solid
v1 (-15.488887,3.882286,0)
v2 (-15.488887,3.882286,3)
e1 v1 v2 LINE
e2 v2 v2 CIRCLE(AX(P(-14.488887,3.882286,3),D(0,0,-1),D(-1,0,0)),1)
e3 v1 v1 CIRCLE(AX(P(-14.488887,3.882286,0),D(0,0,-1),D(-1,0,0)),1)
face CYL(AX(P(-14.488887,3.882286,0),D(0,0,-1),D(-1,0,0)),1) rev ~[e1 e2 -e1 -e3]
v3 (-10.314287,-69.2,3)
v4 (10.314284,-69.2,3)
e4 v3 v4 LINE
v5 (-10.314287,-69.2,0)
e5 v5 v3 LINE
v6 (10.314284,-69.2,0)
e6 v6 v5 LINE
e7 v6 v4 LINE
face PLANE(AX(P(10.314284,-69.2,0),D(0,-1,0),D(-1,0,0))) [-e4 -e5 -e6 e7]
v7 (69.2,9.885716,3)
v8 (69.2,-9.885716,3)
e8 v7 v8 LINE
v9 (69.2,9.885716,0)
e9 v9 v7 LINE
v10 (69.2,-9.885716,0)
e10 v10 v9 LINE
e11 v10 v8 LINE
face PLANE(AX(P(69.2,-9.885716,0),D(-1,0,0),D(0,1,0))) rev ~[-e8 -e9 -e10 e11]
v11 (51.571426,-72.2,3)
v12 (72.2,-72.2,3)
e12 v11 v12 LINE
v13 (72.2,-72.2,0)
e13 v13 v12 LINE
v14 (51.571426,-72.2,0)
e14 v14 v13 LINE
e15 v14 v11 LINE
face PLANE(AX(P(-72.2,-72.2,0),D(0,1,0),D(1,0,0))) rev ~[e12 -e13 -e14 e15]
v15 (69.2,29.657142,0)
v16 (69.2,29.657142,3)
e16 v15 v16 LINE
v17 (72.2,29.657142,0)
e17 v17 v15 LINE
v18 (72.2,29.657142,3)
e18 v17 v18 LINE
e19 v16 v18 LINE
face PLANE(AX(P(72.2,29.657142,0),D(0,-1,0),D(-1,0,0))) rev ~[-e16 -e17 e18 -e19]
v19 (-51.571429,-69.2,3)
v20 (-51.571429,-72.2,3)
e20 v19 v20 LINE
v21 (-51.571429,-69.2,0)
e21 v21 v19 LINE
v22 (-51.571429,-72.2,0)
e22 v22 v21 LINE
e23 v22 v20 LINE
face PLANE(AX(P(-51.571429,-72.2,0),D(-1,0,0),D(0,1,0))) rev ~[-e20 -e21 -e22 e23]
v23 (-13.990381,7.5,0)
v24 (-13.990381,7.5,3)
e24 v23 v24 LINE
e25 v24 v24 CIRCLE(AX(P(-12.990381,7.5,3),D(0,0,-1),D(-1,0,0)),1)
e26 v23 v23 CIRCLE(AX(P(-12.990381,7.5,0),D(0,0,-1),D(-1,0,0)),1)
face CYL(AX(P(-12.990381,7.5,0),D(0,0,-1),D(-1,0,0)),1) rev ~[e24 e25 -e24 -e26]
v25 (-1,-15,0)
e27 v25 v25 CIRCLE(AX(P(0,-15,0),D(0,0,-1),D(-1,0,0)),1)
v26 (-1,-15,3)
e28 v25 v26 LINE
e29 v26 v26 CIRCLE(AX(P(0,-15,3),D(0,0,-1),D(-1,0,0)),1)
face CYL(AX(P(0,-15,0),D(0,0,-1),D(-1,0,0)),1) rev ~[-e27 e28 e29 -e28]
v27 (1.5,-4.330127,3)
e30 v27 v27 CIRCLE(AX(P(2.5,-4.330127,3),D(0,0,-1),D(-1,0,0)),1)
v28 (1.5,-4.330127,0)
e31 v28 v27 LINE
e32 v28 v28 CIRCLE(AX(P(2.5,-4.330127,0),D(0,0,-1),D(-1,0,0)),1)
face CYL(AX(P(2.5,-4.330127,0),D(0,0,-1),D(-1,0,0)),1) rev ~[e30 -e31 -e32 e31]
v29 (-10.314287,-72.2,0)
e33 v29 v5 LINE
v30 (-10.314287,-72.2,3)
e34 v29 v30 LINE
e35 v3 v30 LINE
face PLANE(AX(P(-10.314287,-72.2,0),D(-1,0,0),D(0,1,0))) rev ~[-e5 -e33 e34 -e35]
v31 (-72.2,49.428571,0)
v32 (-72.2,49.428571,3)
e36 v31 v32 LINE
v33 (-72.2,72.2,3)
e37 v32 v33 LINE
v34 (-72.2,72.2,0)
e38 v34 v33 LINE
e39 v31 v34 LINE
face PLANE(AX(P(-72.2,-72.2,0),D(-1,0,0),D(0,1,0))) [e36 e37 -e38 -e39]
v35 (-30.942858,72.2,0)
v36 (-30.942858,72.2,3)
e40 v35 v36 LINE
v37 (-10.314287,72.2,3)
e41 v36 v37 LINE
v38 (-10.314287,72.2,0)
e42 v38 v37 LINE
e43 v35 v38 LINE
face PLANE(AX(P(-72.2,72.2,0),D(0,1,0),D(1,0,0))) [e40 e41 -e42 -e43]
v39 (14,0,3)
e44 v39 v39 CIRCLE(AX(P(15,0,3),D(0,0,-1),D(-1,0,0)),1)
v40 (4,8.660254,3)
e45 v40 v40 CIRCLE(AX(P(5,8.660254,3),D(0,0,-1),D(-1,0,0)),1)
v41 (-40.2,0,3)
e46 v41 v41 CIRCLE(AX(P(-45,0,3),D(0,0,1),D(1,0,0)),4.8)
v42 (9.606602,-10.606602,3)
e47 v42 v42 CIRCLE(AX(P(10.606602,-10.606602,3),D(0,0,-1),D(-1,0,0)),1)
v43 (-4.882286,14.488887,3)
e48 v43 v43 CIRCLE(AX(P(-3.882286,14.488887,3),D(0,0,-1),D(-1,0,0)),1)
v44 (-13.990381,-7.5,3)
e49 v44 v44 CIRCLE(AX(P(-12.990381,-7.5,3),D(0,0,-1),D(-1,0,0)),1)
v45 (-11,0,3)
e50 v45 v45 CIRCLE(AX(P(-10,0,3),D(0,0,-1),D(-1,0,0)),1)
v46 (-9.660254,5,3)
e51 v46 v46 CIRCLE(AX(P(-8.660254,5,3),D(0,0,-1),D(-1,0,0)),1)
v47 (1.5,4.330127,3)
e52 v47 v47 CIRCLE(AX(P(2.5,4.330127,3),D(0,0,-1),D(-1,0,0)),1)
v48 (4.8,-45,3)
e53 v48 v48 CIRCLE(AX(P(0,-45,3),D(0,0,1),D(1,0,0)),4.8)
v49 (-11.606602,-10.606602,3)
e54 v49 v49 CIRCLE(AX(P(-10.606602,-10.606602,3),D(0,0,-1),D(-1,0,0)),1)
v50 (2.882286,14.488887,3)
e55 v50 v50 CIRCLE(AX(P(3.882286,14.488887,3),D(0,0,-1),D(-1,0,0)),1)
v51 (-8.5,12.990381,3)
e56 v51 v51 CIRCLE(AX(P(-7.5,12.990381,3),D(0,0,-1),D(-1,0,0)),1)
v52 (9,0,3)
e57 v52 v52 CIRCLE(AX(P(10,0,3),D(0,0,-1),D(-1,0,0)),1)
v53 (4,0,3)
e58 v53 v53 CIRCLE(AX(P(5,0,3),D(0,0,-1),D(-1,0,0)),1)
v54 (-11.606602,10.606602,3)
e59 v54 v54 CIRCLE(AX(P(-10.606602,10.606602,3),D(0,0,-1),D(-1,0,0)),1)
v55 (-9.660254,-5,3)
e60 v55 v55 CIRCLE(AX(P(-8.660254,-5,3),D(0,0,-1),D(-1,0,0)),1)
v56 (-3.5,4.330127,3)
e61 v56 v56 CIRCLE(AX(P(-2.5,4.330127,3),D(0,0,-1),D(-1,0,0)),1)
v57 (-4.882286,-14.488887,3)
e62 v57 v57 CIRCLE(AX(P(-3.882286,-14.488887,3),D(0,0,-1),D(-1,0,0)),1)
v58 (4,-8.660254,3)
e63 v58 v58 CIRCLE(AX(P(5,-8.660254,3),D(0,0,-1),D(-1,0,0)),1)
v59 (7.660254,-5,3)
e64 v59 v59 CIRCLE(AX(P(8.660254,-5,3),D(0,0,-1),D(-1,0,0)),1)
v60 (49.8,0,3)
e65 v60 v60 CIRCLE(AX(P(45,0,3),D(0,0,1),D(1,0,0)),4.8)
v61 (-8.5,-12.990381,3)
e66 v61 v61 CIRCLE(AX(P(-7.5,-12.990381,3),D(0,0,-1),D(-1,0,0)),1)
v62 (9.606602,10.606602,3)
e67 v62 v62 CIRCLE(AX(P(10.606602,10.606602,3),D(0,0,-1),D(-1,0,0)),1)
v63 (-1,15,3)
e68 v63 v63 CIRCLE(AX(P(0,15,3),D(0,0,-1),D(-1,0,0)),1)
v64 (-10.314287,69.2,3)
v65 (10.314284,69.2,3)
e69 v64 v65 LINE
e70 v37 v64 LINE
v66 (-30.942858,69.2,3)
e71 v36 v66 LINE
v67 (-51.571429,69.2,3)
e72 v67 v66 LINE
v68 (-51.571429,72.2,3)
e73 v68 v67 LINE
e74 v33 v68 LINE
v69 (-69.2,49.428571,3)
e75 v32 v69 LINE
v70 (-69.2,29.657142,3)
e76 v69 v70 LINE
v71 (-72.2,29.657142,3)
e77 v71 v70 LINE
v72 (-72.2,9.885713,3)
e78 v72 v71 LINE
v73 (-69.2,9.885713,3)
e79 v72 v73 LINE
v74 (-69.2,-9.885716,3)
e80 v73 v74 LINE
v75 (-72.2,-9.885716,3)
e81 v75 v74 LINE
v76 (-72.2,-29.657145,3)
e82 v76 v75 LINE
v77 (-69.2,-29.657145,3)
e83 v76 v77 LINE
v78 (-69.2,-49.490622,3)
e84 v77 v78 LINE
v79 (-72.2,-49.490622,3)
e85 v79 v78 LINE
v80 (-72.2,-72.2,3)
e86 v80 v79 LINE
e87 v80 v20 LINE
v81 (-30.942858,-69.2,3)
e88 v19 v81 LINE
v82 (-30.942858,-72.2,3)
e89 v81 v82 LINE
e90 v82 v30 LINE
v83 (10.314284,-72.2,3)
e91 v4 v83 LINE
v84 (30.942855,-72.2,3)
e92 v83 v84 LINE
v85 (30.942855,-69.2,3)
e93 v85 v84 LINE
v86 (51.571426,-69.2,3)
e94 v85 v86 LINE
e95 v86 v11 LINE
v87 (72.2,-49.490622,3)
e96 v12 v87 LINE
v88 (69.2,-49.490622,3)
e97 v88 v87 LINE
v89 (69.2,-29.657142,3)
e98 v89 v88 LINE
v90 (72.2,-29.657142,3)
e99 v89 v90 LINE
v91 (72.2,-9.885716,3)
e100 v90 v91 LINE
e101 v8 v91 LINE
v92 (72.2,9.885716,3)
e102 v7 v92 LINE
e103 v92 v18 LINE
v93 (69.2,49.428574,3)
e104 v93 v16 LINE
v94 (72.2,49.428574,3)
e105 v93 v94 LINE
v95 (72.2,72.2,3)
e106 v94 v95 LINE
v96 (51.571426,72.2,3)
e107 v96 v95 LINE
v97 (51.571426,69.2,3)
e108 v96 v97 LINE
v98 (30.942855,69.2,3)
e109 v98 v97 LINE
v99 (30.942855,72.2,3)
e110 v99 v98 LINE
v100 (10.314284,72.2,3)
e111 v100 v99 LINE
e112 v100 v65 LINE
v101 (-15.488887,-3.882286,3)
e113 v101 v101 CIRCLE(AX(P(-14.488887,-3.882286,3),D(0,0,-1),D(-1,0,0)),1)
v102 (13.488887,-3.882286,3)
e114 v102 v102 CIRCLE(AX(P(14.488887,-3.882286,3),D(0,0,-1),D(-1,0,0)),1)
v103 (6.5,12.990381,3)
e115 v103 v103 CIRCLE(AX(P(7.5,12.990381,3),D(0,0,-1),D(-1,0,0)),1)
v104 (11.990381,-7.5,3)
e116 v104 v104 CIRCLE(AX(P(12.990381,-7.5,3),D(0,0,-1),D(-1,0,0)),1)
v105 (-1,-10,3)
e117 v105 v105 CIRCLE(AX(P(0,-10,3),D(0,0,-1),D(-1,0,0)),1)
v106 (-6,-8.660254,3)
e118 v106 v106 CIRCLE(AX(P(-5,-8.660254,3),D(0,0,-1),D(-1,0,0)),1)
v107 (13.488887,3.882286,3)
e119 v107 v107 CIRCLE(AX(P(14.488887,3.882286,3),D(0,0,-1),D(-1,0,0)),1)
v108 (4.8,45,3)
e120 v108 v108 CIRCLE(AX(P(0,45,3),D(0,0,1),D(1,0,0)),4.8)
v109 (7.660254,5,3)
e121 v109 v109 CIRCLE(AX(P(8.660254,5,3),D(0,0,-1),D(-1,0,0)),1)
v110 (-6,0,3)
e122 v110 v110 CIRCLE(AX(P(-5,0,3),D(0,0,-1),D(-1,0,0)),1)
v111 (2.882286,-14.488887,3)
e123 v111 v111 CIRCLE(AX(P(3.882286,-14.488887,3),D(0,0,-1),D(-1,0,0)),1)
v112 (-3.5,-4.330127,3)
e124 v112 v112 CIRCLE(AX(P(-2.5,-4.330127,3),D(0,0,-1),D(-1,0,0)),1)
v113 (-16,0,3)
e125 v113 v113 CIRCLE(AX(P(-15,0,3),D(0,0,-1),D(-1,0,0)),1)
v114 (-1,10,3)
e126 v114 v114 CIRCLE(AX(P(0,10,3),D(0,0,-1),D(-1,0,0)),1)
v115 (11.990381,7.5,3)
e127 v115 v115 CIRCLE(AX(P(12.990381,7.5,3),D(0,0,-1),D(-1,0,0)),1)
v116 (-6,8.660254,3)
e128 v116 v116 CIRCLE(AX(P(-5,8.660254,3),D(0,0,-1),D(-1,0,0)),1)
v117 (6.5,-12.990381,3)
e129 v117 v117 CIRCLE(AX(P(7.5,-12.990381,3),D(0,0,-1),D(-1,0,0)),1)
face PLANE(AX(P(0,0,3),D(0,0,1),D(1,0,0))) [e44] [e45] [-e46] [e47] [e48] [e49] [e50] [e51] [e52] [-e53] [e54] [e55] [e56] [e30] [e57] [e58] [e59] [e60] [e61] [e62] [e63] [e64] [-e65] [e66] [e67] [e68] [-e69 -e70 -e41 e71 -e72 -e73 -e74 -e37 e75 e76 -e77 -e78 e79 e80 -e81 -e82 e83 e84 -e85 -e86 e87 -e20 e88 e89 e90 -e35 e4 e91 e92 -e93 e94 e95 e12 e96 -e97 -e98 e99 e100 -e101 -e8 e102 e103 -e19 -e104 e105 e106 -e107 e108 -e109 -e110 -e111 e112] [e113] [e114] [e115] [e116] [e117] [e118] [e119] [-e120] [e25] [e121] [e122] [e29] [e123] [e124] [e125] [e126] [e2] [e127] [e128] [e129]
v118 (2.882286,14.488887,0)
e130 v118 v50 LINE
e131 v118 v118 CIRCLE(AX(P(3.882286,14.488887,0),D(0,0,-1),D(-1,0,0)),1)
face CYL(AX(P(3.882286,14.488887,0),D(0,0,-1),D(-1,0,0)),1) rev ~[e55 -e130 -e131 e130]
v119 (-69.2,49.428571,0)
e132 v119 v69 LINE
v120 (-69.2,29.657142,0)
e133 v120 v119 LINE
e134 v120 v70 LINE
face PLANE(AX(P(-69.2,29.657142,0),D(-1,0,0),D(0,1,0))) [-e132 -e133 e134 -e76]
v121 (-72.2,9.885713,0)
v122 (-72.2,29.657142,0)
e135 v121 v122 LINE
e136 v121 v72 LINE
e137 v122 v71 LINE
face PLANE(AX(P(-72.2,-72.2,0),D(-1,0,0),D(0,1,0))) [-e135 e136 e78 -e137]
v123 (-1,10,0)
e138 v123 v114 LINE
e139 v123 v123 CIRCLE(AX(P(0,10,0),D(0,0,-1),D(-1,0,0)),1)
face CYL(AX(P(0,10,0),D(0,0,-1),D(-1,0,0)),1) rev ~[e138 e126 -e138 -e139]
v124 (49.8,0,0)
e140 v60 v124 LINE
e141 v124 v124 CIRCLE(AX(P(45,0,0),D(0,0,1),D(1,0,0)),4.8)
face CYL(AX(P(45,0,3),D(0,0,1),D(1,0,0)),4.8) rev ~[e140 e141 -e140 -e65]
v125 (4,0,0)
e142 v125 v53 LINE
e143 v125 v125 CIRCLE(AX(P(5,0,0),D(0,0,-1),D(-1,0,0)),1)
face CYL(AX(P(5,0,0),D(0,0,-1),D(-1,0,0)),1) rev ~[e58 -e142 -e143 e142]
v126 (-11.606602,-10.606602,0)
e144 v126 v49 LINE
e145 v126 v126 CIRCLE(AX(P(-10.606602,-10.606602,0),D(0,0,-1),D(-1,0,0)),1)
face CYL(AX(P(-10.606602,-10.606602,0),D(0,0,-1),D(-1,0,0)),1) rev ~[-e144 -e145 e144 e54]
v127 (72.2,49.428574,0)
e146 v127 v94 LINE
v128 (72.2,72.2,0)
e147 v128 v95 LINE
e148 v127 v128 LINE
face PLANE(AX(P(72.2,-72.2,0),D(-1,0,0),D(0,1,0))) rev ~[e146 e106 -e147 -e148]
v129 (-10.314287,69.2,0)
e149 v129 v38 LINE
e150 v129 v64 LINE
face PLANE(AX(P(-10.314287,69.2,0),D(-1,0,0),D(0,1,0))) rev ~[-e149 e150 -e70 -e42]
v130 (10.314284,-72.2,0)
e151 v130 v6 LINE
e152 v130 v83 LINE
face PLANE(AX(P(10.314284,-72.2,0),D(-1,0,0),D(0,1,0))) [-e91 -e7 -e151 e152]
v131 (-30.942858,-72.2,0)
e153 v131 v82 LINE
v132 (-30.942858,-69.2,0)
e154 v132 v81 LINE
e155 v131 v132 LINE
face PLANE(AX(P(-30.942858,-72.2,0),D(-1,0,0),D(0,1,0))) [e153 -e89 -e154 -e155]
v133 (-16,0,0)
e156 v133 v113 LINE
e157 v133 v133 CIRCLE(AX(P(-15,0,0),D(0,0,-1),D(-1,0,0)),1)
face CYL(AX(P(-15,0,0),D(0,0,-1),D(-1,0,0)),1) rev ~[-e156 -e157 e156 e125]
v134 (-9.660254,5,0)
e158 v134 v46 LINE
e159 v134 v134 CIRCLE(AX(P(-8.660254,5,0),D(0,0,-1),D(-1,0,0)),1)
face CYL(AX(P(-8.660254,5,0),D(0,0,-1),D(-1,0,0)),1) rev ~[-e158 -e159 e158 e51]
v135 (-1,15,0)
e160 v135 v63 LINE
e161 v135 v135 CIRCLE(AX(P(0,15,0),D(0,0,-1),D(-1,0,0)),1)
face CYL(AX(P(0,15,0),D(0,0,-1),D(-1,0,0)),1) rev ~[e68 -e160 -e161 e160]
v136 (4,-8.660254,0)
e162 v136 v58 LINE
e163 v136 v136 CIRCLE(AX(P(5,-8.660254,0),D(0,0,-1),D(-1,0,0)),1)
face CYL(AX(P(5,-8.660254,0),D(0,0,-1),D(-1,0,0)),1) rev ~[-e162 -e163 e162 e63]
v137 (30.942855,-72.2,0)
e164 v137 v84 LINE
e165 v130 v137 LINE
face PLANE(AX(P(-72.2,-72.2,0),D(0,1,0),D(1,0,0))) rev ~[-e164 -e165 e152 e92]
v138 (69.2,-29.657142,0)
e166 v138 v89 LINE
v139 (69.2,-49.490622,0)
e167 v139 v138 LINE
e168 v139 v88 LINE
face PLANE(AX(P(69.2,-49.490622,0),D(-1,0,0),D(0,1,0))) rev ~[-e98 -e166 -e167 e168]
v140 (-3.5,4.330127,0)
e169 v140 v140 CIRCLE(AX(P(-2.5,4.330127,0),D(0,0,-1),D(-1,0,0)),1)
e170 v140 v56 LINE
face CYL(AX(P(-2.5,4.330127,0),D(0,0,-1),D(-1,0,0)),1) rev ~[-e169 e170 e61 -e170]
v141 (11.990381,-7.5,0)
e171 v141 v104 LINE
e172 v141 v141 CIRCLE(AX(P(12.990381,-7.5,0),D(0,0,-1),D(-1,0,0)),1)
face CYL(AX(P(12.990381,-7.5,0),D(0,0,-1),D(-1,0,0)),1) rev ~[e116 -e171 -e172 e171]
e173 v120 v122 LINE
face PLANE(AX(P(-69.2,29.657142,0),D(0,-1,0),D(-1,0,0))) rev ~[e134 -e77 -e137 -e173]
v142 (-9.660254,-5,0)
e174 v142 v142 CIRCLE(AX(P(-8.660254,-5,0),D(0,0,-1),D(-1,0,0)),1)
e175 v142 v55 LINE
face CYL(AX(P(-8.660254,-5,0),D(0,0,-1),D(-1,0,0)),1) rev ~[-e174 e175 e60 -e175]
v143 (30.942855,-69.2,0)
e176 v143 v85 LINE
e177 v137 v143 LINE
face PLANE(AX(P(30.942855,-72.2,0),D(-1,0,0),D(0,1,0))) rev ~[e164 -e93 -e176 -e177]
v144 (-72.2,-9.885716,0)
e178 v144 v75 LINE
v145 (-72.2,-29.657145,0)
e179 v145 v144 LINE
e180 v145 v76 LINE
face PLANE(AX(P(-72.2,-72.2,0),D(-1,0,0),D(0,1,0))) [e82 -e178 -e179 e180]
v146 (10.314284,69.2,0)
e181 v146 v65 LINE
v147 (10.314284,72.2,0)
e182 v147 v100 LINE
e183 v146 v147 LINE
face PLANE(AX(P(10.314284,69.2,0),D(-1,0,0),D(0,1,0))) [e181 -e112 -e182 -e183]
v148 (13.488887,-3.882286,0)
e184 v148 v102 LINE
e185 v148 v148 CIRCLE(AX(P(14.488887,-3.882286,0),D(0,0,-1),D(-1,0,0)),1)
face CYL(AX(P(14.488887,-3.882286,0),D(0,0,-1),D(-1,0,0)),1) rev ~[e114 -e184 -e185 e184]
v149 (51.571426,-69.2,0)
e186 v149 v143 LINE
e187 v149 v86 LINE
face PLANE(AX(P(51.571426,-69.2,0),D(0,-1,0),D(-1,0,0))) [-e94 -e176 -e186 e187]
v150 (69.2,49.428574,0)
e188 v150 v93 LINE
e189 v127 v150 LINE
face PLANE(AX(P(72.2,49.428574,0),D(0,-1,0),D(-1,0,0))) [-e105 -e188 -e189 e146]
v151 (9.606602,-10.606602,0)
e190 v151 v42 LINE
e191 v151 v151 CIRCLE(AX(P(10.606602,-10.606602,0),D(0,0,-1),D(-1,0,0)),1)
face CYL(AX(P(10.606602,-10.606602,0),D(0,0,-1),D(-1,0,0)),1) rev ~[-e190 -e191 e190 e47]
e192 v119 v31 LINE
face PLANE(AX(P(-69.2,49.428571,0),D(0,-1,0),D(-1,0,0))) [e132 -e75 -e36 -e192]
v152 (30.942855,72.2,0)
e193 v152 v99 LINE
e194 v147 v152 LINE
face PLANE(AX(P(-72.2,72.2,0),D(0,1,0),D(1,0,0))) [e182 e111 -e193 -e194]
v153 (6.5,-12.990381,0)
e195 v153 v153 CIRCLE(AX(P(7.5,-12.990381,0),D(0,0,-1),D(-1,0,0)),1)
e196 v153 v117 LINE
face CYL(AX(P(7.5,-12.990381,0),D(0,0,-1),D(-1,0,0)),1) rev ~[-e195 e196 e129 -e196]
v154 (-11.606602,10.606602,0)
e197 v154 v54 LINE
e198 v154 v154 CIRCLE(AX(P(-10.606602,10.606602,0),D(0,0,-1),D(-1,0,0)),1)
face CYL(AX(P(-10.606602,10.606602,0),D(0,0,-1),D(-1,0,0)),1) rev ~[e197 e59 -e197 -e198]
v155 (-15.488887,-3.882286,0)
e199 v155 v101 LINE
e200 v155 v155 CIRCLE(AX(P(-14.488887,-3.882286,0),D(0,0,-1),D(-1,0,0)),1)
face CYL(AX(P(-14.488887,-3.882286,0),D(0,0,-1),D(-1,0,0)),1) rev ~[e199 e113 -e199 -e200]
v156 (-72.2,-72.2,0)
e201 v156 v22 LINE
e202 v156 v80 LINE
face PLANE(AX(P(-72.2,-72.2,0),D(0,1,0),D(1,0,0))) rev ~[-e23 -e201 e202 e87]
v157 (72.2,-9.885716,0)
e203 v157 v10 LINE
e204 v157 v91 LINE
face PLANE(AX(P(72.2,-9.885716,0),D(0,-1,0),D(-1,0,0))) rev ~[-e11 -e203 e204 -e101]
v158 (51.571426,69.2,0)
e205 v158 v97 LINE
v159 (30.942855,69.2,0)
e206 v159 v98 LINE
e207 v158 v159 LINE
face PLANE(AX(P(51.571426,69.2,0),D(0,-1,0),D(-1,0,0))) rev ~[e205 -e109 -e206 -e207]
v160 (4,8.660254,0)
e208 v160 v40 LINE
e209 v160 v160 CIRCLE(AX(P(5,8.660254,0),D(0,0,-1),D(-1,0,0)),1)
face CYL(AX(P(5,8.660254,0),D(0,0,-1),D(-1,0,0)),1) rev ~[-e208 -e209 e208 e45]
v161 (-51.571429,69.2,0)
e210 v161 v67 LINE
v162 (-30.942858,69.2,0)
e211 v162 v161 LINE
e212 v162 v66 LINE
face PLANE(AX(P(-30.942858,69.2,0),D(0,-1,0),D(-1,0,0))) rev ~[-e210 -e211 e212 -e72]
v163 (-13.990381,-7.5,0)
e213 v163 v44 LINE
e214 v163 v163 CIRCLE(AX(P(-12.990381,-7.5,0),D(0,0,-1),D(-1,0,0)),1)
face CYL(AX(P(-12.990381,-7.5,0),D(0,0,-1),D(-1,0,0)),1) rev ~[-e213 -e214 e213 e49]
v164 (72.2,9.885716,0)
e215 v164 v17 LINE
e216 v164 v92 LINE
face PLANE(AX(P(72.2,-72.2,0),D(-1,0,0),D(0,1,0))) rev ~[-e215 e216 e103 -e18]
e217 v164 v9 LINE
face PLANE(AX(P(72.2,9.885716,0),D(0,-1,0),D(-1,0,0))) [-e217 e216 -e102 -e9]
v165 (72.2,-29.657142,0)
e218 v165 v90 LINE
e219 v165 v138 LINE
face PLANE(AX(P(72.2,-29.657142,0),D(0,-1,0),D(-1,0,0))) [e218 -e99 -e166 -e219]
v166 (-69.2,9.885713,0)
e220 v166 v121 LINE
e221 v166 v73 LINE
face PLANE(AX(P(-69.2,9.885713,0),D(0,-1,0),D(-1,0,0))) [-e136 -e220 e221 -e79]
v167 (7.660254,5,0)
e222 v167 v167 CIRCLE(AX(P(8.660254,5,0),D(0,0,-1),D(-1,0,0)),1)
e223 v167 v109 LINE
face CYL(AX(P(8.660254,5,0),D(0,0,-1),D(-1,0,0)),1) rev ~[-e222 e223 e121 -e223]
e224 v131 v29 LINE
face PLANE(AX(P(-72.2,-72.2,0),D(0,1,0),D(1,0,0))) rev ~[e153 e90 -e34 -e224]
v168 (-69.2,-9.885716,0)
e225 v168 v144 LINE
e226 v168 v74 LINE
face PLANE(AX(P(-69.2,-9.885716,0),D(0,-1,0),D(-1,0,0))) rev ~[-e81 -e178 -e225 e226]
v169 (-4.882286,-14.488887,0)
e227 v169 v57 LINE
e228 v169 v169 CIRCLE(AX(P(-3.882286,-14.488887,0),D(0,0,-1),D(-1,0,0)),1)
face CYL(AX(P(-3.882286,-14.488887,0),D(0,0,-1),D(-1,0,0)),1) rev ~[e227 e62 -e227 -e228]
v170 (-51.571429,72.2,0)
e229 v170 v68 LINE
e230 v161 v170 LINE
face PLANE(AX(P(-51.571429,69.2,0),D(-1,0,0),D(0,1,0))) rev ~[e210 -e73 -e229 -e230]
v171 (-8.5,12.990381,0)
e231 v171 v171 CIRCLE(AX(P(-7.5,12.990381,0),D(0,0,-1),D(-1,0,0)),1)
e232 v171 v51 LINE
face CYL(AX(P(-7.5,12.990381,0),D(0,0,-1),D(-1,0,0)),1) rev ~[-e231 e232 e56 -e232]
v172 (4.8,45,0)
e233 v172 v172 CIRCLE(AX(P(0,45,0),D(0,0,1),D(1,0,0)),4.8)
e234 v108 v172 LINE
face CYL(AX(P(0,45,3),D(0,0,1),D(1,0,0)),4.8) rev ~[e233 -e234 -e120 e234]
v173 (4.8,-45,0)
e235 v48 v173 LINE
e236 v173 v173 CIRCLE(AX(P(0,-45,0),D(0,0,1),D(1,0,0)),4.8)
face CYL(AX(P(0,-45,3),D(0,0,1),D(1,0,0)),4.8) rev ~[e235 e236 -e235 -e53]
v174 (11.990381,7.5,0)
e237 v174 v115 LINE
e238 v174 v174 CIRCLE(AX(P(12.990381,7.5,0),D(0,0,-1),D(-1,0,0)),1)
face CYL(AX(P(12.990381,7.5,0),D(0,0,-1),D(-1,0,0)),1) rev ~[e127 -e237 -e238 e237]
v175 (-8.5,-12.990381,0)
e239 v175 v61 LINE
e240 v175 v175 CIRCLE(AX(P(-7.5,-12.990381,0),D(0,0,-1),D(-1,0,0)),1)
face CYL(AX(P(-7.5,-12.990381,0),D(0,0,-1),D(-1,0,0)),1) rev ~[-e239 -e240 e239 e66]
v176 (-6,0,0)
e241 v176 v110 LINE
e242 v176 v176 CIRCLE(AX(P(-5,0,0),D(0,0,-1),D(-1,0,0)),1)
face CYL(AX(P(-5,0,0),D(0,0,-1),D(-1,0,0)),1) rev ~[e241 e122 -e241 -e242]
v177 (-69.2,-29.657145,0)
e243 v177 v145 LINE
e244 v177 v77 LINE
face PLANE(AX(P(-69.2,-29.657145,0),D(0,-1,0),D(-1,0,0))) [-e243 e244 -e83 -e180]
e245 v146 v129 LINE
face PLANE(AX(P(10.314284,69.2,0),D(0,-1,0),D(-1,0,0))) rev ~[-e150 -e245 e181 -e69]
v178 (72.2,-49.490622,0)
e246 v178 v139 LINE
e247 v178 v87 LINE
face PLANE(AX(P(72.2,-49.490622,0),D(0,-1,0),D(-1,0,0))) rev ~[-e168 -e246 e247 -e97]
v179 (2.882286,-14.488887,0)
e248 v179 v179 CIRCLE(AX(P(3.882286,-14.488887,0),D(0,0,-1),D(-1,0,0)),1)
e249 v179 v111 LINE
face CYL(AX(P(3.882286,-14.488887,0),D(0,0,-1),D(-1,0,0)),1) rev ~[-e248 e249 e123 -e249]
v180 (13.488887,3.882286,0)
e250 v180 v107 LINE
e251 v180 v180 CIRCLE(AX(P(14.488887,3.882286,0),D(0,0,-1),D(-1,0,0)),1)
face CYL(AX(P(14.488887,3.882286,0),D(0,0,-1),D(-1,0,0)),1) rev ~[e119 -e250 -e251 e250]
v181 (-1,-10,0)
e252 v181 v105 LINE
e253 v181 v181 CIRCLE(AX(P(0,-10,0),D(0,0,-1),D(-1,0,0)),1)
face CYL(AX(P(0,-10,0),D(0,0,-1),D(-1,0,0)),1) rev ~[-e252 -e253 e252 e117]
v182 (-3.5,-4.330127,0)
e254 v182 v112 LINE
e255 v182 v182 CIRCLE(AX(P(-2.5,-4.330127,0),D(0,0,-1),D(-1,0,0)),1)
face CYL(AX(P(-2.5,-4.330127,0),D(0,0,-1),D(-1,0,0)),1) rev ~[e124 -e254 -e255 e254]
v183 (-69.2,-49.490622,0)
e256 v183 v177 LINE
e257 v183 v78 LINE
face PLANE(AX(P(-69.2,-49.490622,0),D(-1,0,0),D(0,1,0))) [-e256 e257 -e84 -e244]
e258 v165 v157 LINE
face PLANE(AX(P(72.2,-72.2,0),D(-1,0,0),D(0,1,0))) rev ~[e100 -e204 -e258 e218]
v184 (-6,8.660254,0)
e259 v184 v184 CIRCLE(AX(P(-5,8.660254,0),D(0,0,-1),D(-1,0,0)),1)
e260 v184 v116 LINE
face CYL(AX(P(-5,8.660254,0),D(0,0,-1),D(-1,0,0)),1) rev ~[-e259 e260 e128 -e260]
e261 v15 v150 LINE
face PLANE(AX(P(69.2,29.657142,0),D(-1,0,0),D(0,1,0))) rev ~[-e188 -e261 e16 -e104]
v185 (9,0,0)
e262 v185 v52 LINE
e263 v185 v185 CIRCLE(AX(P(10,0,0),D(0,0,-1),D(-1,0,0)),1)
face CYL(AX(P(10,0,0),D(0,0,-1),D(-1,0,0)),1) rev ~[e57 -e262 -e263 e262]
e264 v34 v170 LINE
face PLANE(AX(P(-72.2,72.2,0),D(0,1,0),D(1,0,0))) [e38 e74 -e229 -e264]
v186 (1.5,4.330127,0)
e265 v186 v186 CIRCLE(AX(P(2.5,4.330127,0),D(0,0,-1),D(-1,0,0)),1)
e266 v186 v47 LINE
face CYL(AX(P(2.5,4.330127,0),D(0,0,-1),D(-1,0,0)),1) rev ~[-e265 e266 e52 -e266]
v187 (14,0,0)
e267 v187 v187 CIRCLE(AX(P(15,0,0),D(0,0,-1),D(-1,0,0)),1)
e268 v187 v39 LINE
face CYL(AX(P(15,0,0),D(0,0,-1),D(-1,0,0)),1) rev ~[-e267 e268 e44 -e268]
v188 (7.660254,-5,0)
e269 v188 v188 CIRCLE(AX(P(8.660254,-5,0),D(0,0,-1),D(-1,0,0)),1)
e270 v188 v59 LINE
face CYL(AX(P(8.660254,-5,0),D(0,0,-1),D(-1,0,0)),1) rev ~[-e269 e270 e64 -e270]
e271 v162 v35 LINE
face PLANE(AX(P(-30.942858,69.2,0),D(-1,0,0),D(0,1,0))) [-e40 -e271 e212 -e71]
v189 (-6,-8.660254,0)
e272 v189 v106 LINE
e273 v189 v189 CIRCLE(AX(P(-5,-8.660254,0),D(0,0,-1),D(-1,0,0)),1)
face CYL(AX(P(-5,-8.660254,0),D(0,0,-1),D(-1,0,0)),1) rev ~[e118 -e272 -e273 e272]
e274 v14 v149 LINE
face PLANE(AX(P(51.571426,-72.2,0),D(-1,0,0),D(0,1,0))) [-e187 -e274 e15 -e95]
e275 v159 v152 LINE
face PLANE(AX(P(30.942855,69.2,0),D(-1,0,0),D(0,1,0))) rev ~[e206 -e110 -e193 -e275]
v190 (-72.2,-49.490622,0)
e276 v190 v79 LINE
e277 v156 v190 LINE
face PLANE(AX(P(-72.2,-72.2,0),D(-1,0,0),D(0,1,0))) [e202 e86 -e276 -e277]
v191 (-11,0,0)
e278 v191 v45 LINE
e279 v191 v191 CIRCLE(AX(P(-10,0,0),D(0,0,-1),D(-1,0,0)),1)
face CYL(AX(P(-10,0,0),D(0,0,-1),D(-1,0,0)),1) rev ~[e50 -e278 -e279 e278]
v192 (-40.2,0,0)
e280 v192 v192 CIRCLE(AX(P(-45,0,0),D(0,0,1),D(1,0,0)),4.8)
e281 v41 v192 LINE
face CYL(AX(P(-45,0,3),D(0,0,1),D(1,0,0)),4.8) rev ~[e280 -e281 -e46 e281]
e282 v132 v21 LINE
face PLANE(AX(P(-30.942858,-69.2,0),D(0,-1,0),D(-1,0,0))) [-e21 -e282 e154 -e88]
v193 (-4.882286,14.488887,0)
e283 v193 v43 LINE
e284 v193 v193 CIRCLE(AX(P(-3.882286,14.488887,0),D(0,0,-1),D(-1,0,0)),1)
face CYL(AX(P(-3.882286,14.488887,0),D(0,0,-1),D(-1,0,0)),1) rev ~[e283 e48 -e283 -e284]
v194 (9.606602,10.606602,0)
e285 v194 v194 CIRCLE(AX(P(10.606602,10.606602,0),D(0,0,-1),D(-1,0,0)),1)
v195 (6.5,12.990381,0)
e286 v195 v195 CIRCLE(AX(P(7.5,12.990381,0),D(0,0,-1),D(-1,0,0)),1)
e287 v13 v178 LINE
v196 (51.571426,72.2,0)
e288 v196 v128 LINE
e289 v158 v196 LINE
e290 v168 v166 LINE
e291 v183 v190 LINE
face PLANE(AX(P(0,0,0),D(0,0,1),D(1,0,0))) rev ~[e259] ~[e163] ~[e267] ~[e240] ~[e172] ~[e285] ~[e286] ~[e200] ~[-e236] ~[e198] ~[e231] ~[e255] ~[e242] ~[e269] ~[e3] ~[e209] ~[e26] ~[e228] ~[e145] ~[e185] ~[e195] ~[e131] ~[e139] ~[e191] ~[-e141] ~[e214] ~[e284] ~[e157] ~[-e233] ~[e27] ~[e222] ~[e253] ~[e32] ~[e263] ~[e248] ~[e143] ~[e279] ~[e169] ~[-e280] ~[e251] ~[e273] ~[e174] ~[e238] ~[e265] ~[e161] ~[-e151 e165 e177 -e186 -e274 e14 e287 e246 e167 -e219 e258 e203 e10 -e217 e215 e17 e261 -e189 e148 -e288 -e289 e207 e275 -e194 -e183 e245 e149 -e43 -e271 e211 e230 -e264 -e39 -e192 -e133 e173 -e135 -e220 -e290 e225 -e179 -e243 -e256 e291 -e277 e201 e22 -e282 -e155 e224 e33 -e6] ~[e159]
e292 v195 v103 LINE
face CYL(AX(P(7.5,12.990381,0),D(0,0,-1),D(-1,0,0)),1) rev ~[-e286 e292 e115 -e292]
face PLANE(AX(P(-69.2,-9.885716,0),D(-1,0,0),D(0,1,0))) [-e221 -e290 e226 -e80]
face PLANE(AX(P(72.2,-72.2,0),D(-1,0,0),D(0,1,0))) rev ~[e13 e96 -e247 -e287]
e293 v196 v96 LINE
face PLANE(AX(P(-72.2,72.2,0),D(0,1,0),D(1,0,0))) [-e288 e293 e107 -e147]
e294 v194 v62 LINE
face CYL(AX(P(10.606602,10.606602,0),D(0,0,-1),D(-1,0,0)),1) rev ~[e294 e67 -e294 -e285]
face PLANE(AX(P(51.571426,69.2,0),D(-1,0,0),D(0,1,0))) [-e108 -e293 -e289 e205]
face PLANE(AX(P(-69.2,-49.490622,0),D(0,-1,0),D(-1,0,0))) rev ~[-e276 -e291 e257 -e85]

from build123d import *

# Parameters (mm, degrees)
SKETCH1_W           = 144.4
SKETCH1_H           = 144.4
BOSS_EXTRUDE1_DEPTH = 3
SKETCH2_W           = 20.628571
SKETCH2_H           = 3
SKETCH2_W_2         = 3
SKETCH2_H_2         = 19.771429
SKETCH2_H_3         = 19.83347722
SKETCH2_H_4         = 19.833479362
SKETCH2_H_5         = 19.771431142
CUT_EXTRUDE1_DEPTH  = 4
SKETCH3_R           = 1
CUT_EXTRUDE2_DEPTH  = 4
SKETCH4_R           = 4.8
CUT_EXTRUDE3_DEPTH  = 4


with BuildPart() as part:
    # Sketch1 → Boss-Extrude1 (new body)
    with BuildSketch(Plane.XY):
        Rectangle(SKETCH1_W, SKETCH1_H)
    extrude(amount=BOSS_EXTRUDE1_DEPTH)

    # Sketch2 → Cut-Extrude1 (cut, through all)
    with BuildSketch(Plane(origin=(0, 0, 0), x_dir=(-1, 0, 0), z_dir=(0, 0, -1))):
        with Locations((-41.257140929, 70.7)):
            Rectangle(SKETCH2_W, SKETCH2_H)
        with Locations((1.071e-06, 70.7)):
            Rectangle(SKETCH2_W, SKETCH2_H)
        with Locations((41.257143071, 70.7)):
            Rectangle(SKETCH2_W, SKETCH2_H)
        with Locations((70.7, 39.542856929)):
            Rectangle(SKETCH2_W_2, SKETCH2_H_2)
        with Locations((70.7, -1.071e-06)):
            Rectangle(SKETCH2_W_2, SKETCH2_H_2)
        with Locations((70.7, -39.573883181)):
            Rectangle(SKETCH2_W_2, SKETCH2_H_3)
        with Locations((41.257143071, -70.7)):
            Rectangle(SKETCH2_W, SKETCH2_H)
        with Locations((1.071e-06, -70.7)):
            Rectangle(SKETCH2_W, SKETCH2_H)
        with Locations((-41.257140929, -70.7)):
            Rectangle(SKETCH2_W, SKETCH2_H)
        with Locations((-70.7, -39.57388211)):
            Rectangle(SKETCH2_W_2, SKETCH2_H_4)
        with Locations((-70.7, 0)):
            Rectangle(SKETCH2_W_2, SKETCH2_H_5)
        with Locations((-70.7, 39.542858)):
            Rectangle(SKETCH2_W_2, SKETCH2_H_5)
    extrude(amount=-CUT_EXTRUDE1_DEPTH, mode=Mode.SUBTRACT)

    # Sketch3 → Cut-Extrude2 (cut, through all)
    with BuildSketch(Plane(origin=(0, 0, 0), x_dir=(-1, 0, 0), z_dir=(0, 0, -1))):
        with Locations((5, 0)):
            Circle(SKETCH3_R)
        with Locations((2.5, -4.330127019)):
            Circle(SKETCH3_R)
        with Locations((-2.5, -4.330127019)):
            Circle(SKETCH3_R)
        with Locations((-5, 0)):
            Circle(SKETCH3_R)
        with Locations((-2.5, 4.330127019)):
            Circle(SKETCH3_R)
        with Locations((2.5, 4.330127019)):
            Circle(SKETCH3_R)
        with Locations((10, 0)):
            Circle(SKETCH3_R)
        with Locations((8.660254038, -5)):
            Circle(SKETCH3_R)
        with Locations((5, -8.660254038)):
            Circle(SKETCH3_R)
        with Locations((0, -10)):
            Circle(SKETCH3_R)
        with Locations((-5, -8.660254038)):
            Circle(SKETCH3_R)
        with Locations((-8.660254038, -5)):
            Circle(SKETCH3_R)
        with Locations((-10, 0)):
            Circle(SKETCH3_R)
        with Locations((-8.660254038, 5)):
            Circle(SKETCH3_R)
        with Locations((-5, 8.660254038)):
            Circle(SKETCH3_R)
        with Locations((0, 10)):
            Circle(SKETCH3_R)
        with Locations((5, 8.660254038)):
            Circle(SKETCH3_R)
        with Locations((8.660254038, 5)):
            Circle(SKETCH3_R)
        with Locations((15, 0)):
            Circle(SKETCH3_R)
        with Locations((14.488887394, -3.882285677)):
            Circle(SKETCH3_R)
        with Locations((12.990381057, -7.5)):
            Circle(SKETCH3_R)
        with Locations((10.606601718, -10.606601718)):
            Circle(SKETCH3_R)
        with Locations((7.5, -12.990381057)):
            Circle(SKETCH3_R)
        with Locations((3.882285677, -14.488887394)):
            Circle(SKETCH3_R)
        with Locations((0, -15)):
            Circle(SKETCH3_R)
        with Locations((-3.882285677, -14.488887394)):
            Circle(SKETCH3_R)
        with Locations((-7.5, -12.990381057)):
            Circle(SKETCH3_R)
        with Locations((-10.606601718, -10.606601718)):
            Circle(SKETCH3_R)
        with Locations((-12.990381057, -7.5)):
            Circle(SKETCH3_R)
        with Locations((-14.488887394, -3.882285677)):
            Circle(SKETCH3_R)
        with Locations((-15, 0)):
            Circle(SKETCH3_R)
        with Locations((-14.488887394, 3.882285677)):
            Circle(SKETCH3_R)
        with Locations((-12.990381057, 7.5)):
            Circle(SKETCH3_R)
        with Locations((-10.606601718, 10.606601718)):
            Circle(SKETCH3_R)
        with Locations((-7.5, 12.990381057)):
            Circle(SKETCH3_R)
        with Locations((-3.882285677, 14.488887394)):
            Circle(SKETCH3_R)
        with Locations((0, 15)):
            Circle(SKETCH3_R)
        with Locations((3.882285677, 14.488887394)):
            Circle(SKETCH3_R)
        with Locations((7.5, 12.990381057)):
            Circle(SKETCH3_R)
        with Locations((10.606601718, 10.606601718)):
            Circle(SKETCH3_R)
        with Locations((12.990381057, 7.5)):
            Circle(SKETCH3_R)
        with Locations((14.488887394, 3.882285677)):
            Circle(SKETCH3_R)
    extrude(amount=-CUT_EXTRUDE2_DEPTH, mode=Mode.SUBTRACT)

    # Sketch4 → Cut-Extrude3 (cut, through all)
    with BuildSketch(Plane.XY.offset(3)):
        with Locations((0, 45)):
            Circle(SKETCH4_R)
        with Locations((45, 0)):
            Circle(SKETCH4_R)
        with Locations((0, -45)):
            Circle(SKETCH4_R)
        with Locations((-45, 0)):
            Circle(SKETCH4_R)
    extrude(amount=-CUT_EXTRUDE3_DEPTH, mode=Mode.SUBTRACT)


solid = part.part
